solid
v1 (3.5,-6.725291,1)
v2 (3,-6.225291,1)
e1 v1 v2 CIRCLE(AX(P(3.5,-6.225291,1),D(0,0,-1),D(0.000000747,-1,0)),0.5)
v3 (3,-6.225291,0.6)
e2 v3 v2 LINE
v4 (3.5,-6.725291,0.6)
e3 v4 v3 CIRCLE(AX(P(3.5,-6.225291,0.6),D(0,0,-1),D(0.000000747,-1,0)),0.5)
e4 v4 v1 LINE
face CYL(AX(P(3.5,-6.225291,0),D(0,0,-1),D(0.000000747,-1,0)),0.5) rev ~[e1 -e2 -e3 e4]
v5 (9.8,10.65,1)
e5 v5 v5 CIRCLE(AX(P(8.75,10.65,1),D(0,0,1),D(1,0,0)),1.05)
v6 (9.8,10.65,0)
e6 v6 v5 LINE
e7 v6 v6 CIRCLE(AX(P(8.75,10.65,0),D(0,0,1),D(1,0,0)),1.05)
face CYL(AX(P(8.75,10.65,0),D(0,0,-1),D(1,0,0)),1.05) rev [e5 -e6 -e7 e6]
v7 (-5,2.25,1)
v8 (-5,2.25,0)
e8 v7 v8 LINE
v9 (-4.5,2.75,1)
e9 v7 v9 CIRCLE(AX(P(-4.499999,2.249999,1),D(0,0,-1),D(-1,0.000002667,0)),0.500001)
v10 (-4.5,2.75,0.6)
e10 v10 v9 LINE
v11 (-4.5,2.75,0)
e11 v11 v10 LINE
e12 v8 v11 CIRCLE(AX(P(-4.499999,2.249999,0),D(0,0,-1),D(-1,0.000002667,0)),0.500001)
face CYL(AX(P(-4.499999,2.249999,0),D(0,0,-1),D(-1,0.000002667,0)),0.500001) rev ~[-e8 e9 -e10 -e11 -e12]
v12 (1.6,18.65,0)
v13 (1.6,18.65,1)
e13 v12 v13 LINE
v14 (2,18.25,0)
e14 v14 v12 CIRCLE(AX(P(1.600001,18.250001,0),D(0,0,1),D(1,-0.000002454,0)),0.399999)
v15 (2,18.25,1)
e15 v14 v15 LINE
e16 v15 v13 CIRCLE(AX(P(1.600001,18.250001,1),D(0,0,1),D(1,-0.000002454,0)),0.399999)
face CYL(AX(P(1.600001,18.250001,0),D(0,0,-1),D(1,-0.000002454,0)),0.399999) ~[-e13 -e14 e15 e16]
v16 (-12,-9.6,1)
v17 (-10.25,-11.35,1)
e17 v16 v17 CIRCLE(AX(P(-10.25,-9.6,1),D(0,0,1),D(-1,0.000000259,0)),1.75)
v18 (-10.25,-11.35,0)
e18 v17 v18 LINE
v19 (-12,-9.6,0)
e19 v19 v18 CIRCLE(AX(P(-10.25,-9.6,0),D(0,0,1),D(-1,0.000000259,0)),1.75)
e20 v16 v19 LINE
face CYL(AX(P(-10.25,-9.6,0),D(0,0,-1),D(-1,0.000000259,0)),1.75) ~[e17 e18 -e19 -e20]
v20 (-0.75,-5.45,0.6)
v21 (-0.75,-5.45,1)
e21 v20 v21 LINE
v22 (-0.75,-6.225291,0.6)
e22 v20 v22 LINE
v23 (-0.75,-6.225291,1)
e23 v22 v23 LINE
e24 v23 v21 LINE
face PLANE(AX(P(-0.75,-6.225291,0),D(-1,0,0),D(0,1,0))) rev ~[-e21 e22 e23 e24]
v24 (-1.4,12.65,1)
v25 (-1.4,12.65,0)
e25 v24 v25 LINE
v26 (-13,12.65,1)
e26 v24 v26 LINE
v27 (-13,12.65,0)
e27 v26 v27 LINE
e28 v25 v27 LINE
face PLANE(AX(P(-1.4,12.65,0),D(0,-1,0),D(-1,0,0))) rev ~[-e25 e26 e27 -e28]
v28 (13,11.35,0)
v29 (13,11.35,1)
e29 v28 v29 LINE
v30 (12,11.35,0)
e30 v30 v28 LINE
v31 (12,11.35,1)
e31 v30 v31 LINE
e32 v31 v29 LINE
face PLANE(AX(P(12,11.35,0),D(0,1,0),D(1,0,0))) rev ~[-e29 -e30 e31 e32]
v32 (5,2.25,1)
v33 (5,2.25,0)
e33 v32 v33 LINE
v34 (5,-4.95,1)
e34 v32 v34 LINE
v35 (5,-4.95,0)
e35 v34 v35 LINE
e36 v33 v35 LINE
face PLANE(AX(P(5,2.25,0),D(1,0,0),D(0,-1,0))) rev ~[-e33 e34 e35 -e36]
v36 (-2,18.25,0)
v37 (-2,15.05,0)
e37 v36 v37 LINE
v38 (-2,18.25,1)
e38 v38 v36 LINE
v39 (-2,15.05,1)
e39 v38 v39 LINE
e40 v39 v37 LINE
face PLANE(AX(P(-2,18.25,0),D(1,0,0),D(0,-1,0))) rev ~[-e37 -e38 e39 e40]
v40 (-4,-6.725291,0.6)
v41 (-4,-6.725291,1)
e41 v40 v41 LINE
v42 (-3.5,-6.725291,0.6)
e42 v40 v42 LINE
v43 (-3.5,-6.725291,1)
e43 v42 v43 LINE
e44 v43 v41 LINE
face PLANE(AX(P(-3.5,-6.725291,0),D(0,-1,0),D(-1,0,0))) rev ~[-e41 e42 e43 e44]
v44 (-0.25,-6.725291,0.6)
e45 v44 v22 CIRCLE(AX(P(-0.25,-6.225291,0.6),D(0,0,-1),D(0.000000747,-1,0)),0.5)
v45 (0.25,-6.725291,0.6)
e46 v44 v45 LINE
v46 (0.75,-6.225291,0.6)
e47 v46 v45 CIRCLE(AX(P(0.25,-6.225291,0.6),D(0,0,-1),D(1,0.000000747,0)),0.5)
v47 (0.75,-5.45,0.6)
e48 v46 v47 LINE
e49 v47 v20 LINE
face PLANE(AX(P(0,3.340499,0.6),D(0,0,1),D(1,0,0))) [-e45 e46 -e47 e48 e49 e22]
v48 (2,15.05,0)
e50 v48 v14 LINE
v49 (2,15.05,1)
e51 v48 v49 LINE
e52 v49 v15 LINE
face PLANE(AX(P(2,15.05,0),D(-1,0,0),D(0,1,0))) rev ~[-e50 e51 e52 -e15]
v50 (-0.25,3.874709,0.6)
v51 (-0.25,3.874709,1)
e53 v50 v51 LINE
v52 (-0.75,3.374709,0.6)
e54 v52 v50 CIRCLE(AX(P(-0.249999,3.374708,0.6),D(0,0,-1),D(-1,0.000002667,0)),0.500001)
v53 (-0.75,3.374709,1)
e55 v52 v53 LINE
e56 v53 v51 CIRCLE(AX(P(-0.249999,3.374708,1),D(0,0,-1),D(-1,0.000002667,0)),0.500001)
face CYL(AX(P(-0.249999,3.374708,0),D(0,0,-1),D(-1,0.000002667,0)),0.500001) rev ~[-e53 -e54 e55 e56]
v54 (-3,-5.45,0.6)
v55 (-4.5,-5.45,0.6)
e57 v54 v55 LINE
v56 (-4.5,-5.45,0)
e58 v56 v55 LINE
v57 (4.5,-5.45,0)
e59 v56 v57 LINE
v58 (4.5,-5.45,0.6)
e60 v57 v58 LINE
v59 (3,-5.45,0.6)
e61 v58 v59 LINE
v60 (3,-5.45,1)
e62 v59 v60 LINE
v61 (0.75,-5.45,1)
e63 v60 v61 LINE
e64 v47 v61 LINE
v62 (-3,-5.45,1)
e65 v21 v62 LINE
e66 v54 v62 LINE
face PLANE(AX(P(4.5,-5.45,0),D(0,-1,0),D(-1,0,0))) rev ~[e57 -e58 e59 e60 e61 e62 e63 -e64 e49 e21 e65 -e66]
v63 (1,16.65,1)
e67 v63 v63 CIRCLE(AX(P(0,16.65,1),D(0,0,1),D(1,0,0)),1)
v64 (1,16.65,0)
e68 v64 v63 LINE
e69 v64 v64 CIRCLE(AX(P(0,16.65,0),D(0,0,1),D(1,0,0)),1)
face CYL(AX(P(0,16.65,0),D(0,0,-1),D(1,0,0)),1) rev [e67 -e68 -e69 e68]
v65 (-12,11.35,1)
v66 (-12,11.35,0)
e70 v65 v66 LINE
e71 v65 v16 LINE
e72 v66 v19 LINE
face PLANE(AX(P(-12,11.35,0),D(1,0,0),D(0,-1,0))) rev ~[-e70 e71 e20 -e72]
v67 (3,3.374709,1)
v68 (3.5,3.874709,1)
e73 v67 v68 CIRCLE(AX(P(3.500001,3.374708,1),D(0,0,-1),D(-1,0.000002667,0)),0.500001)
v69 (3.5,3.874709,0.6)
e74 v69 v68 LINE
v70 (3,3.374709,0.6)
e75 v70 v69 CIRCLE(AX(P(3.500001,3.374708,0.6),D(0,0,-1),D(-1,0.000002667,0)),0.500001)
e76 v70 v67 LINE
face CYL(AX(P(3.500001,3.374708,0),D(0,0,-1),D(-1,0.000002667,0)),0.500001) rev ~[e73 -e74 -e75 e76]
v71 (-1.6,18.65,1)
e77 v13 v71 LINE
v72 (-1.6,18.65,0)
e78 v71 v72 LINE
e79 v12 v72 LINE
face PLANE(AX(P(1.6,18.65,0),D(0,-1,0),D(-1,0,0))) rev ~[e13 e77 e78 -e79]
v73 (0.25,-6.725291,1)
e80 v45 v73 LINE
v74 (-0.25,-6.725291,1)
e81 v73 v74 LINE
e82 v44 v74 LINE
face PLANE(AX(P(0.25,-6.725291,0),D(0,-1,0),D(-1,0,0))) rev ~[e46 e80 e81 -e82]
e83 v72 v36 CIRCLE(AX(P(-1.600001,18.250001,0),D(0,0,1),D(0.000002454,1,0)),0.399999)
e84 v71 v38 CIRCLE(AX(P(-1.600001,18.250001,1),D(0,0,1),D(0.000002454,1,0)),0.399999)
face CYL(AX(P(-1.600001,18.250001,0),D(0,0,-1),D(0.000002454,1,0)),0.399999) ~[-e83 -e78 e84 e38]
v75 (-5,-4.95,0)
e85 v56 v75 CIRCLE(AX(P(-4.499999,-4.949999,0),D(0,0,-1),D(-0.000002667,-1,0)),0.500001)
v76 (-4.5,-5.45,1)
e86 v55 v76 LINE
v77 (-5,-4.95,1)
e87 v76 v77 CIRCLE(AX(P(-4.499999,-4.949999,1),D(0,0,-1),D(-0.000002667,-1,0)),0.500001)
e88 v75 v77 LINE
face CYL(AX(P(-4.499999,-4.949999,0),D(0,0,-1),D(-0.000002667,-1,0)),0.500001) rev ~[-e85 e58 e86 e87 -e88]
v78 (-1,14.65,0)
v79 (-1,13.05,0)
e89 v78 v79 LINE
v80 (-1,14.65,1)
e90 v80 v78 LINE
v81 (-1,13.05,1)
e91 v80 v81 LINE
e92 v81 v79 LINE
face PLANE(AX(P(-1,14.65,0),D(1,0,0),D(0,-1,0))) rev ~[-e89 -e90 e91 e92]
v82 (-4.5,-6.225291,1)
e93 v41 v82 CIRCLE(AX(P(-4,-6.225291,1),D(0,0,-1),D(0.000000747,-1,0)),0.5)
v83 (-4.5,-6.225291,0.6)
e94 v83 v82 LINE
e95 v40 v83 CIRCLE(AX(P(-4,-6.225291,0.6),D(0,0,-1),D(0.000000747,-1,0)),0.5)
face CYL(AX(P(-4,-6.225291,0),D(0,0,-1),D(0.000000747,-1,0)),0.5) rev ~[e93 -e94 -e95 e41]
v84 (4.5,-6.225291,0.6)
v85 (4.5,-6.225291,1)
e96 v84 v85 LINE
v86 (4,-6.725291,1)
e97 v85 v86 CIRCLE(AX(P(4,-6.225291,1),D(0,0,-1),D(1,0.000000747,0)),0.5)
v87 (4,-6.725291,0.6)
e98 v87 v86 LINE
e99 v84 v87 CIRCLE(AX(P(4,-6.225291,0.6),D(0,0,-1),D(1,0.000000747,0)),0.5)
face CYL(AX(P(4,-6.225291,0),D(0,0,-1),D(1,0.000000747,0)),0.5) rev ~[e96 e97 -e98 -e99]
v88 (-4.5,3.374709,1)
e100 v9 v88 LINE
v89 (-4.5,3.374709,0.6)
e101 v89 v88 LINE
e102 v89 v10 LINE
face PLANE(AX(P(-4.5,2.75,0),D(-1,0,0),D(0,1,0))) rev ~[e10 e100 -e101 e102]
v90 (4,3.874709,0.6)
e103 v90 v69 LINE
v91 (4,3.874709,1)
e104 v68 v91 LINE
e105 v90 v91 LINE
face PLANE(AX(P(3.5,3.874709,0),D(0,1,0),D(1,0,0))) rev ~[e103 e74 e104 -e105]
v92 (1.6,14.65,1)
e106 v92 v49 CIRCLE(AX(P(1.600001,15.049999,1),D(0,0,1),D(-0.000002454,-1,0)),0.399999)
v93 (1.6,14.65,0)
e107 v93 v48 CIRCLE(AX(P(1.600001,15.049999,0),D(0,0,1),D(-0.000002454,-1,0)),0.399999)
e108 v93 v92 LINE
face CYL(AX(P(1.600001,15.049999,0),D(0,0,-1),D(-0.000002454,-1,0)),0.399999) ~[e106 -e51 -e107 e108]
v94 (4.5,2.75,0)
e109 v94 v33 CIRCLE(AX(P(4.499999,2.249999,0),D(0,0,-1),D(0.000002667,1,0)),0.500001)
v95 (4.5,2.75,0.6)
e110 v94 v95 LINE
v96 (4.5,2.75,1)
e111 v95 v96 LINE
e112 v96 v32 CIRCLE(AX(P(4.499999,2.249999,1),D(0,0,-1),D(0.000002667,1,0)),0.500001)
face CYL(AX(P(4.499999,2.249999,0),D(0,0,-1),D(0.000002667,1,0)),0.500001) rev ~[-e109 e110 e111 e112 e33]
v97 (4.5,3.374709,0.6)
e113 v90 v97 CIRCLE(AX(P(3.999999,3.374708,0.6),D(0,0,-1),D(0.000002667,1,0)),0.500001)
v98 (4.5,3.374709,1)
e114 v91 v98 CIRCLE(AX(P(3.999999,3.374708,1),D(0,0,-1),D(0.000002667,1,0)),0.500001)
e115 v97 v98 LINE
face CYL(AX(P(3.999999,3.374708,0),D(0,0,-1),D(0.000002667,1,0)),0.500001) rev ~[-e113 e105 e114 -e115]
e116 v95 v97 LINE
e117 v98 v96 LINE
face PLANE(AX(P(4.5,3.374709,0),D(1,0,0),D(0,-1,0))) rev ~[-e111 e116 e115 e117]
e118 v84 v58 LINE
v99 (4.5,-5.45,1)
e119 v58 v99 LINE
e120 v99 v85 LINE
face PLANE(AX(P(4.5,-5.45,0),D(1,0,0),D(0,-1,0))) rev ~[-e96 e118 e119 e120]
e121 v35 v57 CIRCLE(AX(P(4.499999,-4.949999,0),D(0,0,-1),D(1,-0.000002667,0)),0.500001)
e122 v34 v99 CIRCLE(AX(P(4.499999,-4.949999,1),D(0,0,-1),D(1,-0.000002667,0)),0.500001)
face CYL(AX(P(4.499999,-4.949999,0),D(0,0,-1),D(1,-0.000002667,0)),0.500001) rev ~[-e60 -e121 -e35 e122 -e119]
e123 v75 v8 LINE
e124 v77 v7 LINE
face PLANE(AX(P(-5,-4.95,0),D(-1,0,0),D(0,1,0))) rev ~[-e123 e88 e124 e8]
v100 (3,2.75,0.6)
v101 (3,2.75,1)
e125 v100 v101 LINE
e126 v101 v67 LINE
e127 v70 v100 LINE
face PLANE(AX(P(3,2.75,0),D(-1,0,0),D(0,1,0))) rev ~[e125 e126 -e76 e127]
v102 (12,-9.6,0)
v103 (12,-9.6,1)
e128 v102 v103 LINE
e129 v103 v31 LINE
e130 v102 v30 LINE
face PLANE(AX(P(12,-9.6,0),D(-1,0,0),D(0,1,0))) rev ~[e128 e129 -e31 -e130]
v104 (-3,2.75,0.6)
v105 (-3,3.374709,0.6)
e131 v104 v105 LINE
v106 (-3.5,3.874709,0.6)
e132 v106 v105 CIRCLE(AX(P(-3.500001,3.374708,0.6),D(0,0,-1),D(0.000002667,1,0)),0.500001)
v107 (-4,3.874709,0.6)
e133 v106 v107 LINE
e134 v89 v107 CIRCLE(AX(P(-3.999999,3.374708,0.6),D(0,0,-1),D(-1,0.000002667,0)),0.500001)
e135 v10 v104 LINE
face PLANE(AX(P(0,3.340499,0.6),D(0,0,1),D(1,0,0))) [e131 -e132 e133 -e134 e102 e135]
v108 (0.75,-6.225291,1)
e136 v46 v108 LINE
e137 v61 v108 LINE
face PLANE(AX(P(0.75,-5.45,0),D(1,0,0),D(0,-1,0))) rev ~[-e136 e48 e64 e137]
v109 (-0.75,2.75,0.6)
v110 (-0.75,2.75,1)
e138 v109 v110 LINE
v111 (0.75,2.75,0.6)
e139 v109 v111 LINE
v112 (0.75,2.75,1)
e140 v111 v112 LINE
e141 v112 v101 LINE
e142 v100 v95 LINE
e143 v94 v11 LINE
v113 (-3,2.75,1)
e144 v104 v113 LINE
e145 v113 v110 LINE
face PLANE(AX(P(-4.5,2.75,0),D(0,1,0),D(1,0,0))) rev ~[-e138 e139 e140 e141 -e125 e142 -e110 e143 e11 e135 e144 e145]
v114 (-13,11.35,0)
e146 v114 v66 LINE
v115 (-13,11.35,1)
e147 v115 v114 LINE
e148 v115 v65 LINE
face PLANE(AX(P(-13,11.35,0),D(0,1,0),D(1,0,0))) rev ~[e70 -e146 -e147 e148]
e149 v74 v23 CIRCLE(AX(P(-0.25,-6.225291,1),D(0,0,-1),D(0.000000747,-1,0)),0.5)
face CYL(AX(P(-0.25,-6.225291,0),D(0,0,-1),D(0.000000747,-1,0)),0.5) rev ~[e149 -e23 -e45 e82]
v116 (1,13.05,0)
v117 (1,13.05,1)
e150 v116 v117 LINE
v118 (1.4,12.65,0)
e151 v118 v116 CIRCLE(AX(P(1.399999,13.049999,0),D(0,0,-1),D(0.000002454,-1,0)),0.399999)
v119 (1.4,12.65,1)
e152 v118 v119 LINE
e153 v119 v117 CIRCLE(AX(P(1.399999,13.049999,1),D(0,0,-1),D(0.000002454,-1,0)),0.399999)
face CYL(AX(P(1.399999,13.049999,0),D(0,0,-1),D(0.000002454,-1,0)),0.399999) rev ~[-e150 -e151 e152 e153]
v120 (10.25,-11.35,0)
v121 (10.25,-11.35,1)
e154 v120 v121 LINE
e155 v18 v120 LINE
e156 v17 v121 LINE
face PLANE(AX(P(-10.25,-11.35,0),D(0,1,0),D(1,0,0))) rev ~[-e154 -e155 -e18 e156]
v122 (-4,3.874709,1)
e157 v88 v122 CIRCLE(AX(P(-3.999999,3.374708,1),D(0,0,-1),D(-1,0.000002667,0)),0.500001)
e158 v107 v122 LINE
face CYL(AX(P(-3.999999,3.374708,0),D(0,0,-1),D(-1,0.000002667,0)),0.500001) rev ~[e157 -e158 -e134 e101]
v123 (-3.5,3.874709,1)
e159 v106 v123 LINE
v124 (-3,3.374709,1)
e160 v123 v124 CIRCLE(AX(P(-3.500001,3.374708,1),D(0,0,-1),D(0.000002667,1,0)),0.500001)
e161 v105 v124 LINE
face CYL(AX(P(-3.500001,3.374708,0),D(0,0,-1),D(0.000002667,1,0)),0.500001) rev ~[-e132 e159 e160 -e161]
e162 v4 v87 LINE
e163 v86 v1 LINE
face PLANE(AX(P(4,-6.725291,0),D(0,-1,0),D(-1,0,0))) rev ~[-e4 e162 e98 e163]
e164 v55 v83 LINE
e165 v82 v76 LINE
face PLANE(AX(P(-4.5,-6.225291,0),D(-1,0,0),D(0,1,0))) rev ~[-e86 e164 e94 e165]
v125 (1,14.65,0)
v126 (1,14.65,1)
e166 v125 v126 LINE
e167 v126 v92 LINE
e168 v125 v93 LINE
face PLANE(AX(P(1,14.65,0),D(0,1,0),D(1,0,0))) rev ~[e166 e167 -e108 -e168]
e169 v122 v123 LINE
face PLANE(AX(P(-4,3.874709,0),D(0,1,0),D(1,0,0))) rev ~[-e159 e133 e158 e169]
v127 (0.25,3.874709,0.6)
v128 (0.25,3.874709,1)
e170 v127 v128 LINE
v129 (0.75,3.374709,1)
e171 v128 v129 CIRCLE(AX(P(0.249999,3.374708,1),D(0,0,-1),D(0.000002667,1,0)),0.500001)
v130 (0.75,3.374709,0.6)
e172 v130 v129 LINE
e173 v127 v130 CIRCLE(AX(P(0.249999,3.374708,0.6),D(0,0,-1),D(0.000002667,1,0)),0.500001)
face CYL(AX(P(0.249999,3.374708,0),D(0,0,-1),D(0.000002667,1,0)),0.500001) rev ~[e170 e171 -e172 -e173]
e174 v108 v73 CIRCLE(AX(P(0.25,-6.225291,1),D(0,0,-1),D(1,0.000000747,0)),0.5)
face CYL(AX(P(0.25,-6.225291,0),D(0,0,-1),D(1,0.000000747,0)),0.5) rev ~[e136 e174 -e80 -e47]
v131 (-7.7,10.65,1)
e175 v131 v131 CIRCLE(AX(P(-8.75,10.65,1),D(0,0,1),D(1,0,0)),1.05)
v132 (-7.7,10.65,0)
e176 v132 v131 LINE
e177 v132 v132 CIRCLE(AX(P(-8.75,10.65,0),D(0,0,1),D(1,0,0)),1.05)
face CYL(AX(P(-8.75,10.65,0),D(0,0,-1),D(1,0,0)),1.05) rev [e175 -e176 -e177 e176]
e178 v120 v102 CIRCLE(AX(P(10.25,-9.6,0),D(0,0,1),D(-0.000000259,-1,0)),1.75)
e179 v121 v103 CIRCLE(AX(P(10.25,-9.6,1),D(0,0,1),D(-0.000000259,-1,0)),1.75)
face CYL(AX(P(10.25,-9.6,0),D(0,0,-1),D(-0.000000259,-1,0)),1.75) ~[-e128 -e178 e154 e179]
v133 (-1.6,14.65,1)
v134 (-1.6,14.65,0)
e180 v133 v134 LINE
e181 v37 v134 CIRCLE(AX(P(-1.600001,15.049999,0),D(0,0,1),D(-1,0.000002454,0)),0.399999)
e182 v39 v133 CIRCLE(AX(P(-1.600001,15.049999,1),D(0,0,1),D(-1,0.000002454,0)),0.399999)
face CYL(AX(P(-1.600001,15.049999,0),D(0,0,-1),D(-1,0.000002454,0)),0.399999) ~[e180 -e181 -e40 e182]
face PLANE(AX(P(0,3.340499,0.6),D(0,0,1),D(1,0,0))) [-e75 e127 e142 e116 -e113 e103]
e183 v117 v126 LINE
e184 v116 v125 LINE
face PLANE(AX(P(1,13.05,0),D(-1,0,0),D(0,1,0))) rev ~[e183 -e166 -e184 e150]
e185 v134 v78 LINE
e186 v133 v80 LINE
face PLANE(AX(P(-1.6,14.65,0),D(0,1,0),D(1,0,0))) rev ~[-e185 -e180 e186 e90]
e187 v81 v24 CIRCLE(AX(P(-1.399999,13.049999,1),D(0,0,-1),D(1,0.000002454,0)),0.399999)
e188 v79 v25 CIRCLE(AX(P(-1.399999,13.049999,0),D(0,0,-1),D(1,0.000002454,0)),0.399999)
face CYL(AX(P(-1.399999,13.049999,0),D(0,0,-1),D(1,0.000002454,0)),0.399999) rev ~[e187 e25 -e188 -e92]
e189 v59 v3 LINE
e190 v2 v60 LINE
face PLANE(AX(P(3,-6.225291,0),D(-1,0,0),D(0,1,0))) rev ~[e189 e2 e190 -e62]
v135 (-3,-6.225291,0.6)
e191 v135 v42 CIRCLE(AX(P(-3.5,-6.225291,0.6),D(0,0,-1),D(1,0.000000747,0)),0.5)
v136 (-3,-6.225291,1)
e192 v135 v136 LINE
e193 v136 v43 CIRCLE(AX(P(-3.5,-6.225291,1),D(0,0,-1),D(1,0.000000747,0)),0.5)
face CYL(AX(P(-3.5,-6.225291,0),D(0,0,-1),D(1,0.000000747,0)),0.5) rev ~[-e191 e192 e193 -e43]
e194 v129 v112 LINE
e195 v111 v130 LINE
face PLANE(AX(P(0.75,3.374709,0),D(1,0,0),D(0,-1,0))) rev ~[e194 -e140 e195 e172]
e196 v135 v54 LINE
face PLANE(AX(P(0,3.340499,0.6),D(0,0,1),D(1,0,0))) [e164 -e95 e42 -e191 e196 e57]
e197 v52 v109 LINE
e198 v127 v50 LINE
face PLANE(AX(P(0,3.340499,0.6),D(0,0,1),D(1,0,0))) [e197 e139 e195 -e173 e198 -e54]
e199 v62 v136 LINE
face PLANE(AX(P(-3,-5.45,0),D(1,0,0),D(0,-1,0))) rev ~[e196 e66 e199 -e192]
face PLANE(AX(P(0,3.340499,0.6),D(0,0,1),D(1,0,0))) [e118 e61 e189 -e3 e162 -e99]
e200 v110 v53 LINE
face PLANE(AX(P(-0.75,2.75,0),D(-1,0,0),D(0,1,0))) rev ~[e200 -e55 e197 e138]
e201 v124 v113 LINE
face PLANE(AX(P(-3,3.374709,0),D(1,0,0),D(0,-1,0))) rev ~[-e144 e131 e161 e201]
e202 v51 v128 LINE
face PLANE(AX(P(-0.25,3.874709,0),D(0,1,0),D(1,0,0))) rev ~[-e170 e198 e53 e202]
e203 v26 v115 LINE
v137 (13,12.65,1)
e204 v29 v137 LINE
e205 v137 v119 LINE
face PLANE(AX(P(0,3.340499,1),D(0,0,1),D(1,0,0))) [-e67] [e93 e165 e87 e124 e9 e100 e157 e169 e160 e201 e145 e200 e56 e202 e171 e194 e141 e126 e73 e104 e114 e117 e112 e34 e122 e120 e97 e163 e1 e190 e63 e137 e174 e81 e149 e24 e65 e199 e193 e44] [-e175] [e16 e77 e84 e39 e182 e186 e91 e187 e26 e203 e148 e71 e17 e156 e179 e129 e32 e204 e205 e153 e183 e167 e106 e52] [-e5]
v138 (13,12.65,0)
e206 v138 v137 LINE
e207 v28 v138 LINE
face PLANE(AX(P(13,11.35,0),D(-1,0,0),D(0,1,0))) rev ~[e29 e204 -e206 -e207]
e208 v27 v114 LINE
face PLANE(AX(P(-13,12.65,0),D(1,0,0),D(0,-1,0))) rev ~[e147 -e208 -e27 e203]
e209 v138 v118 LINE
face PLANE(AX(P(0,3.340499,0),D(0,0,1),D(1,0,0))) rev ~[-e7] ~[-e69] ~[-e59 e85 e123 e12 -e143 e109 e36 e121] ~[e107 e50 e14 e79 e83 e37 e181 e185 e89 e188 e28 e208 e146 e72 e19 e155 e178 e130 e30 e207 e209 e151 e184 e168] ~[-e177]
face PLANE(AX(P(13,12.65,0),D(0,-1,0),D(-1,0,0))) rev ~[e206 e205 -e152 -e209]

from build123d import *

# Parameters (mm, degrees)
F0_R     = 1.05
F0_R_2   = 1
F1_DEPTH = 0.6
F2_DEPTH = 1


with BuildPart() as f1:
    # F0 (on Top) → F1 (new body)
    with BuildSketch(Plane.XY):
        with BuildLine():
            Line((-10.25, -11.35), (10.25, -11.35))
            ThreePointArc((10.25, -11.35), (11.487437, -10.837437), (12, -9.6))
            Line((12, -9.6), (12, 11.35))
            Line((12, 11.35), (13, 11.35))
            Line((13, 11.35), (13, 12.65))
            Line((13, 12.65), (1.4, 12.65))
            ThreePointArc((1.4, 12.65), (1.117157, 12.767157), (1, 13.05))
            Line((1, 13.05), (1, 14.65))
            Line((1, 14.65), (1.6, 14.65))
            ThreePointArc((1.6, 14.65), (1.882843, 14.767157), (2, 15.05))
            Line((2, 15.05), (2, 18.25))
            ThreePointArc((2, 18.25), (1.882843, 18.532843), (1.6, 18.65))
            Line((1.6, 18.65), (-1.6, 18.65))
            ThreePointArc((-1.6, 18.65), (-1.882843, 18.532843), (-2, 18.25))
            Line((-2, 18.25), (-2, 15.05))
            ThreePointArc((-2, 15.05), (-1.882843, 14.767157), (-1.6, 14.65))
            Line((-1.6, 14.65), (-1, 14.65))
            Line((-1, 14.65), (-1, 13.05))
            ThreePointArc((-1, 13.05), (-1.117157, 12.767157), (-1.4, 12.65))
            Line((-1.4, 12.65), (-13, 12.65))
            Line((-13, 12.65), (-13, 11.35))
            Line((-13, 11.35), (-12, 11.35))
            Line((-12, 11.35), (-12, -9.6))
            ThreePointArc((-12, -9.6), (-11.487437, -10.837437), (-10.25, -11.35))
        make_face()
        with BuildLine():
            ThreePointArc((-5, 2.25), (-4.853553, 2.603553), (-4.5, 2.75))
            Line((-4.5, 2.75), (-4.5, 3.374709))
            ThreePointArc((-4.5, 3.374709), (-4.353553, 3.728262), (-4, 3.874709))
            Line((-4, 3.874709), (-3.5, 3.874709))
            ThreePointArc((-3.5, 3.874709), (-3.146447, 3.728262), (-3, 3.374709))
            Line((-3, 3.374709), (-3, 2.75))
            Line((-3, 2.75), (-0.75, 2.75))
            Line((-0.75, 2.75), (-0.75, 3.374709))
            ThreePointArc((-0.75, 3.374709), (-0.603553, 3.728262), (-0.25, 3.874709))
            Line((-0.25, 3.874709), (0.25, 3.874709))
            ThreePointArc((0.25, 3.874709), (0.603553, 3.728262), (0.75, 3.374709))
            Line((0.75, 3.374709), (0.75, 2.75))
            Line((0.75, 2.75), (3, 2.75))
            Line((3, 2.75), (3, 3.374709))
            ThreePointArc((3, 3.374709), (3.146447, 3.728262), (3.5, 3.874709))
            Line((3.5, 3.874709), (4, 3.874709))
            ThreePointArc((4, 3.874709), (4.353553, 3.728262), (4.5, 3.374709))
            Line((4.5, 3.374709), (4.5, 2.75))
            ThreePointArc((4.5, 2.75), (4.853553, 2.603553), (5, 2.25))
            Line((5, 2.25), (5, -4.95))
            ThreePointArc((5, -4.95), (4.853553, -5.303553), (4.5, -5.45))
            Line((4.5, -5.45), (4.5, -6.225291))
            ThreePointArc((4.5, -6.225291), (4.353553, -6.578845), (4, -6.725291))
            Line((4, -6.725291), (3.5, -6.725291))
            ThreePointArc((3.5, -6.725291), (3.146447, -6.578845), (3, -6.225291))
            Line((3, -6.225291), (3, -5.45))
            Line((3, -5.45), (0.75, -5.45))
            Line((0.75, -5.45), (0.75, -6.225291))
            ThreePointArc((0.75, -6.225291), (0.603553, -6.578845), (0.25, -6.725291))
            Line((0.25, -6.725291), (-0.25, -6.725291))
            ThreePointArc((-0.25, -6.725291), (-0.603553, -6.578845), (-0.75, -6.225291))
            Line((-0.75, -6.225291), (-0.75, -5.45))
            Line((-0.75, -5.45), (-3, -5.45))
            Line((-3, -5.45), (-3, -6.225291))
            ThreePointArc((-3, -6.225291), (-3.146447, -6.578845), (-3.5, -6.725291))
            Line((-3.5, -6.725291), (-4, -6.725291))
            ThreePointArc((-4, -6.725291), (-4.353553, -6.578845), (-4.5, -6.225291))
            Line((-4.5, -6.225291), (-4.5, -5.45))
            ThreePointArc((-4.5, -5.45), (-4.853553, -5.303553), (-5, -4.95))
            Line((-5, -4.95), (-5, 2.25))
        make_face(mode=Mode.SUBTRACT)
        with Locations((-8.75, 10.65)):
            Circle(F0_R, mode=Mode.SUBTRACT)
        with Locations((8.75, 10.65)):
            Circle(F0_R, mode=Mode.SUBTRACT)
        with Locations((0, 16.65)):
            Circle(F0_R_2, mode=Mode.SUBTRACT)
        with BuildLine():
            Line((-4.5, 3.374709), (-4.5, 2.75))
            Line((-4.5, 2.75), (-3, 2.75))
            Line((-3, 2.75), (-3, 3.374709))
            ThreePointArc((-3, 3.374709), (-3.146447, 3.728262), (-3.5, 3.874709))
            Line((-3.5, 3.874709), (-4, 3.874709))
            ThreePointArc((-4, 3.874709), (-4.353553, 3.728262), (-4.5, 3.374709))
        make_face()
        with BuildLine():
            Line((-0.75, 3.374709), (-0.75, 2.75))
            Line((-0.75, 2.75), (0.75, 2.75))
            Line((0.75, 2.75), (0.75, 3.374709))
            ThreePointArc((0.75, 3.374709), (0.603553, 3.728262), (0.25, 3.874709))
            Line((0.25, 3.874709), (-0.25, 3.874709))
            ThreePointArc((-0.25, 3.874709), (-0.603553, 3.728262), (-0.75, 3.374709))
        make_face()
        with BuildLine():
            Line((3, 3.374709), (3, 2.75))
            Line((3, 2.75), (4.5, 2.75))
            Line((4.5, 2.75), (4.5, 3.374709))
            ThreePointArc((4.5, 3.374709), (4.353553, 3.728262), (4, 3.874709))
            Line((4, 3.874709), (3.5, 3.874709))
            ThreePointArc((3.5, 3.874709), (3.146447, 3.728262), (3, 3.374709))
        make_face()
        with BuildLine():
            Line((4.5, -5.45), (3, -5.45))
            Line((3, -5.45), (3, -6.225291))
            ThreePointArc((3, -6.225291), (3.146447, -6.578845), (3.5, -6.725291))
            Line((3.5, -6.725291), (4, -6.725291))
            ThreePointArc((4, -6.725291), (4.353553, -6.578845), (4.5, -6.225291))
            Line((4.5, -6.225291), (4.5, -5.45))
        make_face()
        with BuildLine():
            Line((0.75, -5.45), (-0.75, -5.45))
            Line((-0.75, -5.45), (-0.75, -6.225291))
            ThreePointArc((-0.75, -6.225291), (-0.603553, -6.578845), (-0.25, -6.725291))
            Line((-0.25, -6.725291), (0.25, -6.725291))
            ThreePointArc((0.25, -6.725291), (0.603553, -6.578845), (0.75, -6.225291))
            Line((0.75, -6.225291), (0.75, -5.45))
        make_face()
        with BuildLine():
            Line((-3, -5.45), (-4.5, -5.45))
            Line((-4.5, -5.45), (-4.5, -6.225291))
            ThreePointArc((-4.5, -6.225291), (-4.353553, -6.578845), (-4, -6.725291))
            Line((-4, -6.725291), (-3.5, -6.725291))
            ThreePointArc((-3.5, -6.725291), (-3.146447, -6.578845), (-3, -6.225291))
            Line((-3, -6.225291), (-3, -5.45))
        make_face()
    extrude(amount=F1_DEPTH)

    # F0 (on Top) → F2 (join)
    with BuildSketch(Plane.XY):
        with BuildLine():
            Line((-10.25, -11.35), (10.25, -11.35))
            ThreePointArc((10.25, -11.35), (11.487437, -10.837437), (12, -9.6))
            Line((12, -9.6), (12, 11.35))
            Line((12, 11.35), (13, 11.35))
            Line((13, 11.35), (13, 12.65))
            Line((13, 12.65), (1.4, 12.65))
            ThreePointArc((1.4, 12.65), (1.117157, 12.767157), (1, 13.05))
            Line((1, 13.05), (1, 14.65))
            Line((1, 14.65), (1.6, 14.65))
            ThreePointArc((1.6, 14.65), (1.882843, 14.767157), (2, 15.05))
            Line((2, 15.05), (2, 18.25))
            ThreePointArc((2, 18.25), (1.882843, 18.532843), (1.6, 18.65))
            Line((1.6, 18.65), (-1.6, 18.65))
            ThreePointArc((-1.6, 18.65), (-1.882843, 18.532843), (-2, 18.25))
            Line((-2, 18.25), (-2, 15.05))
            ThreePointArc((-2, 15.05), (-1.882843, 14.767157), (-1.6, 14.65))
            Line((-1.6, 14.65), (-1, 14.65))
            Line((-1, 14.65), (-1, 13.05))
            ThreePointArc((-1, 13.05), (-1.117157, 12.767157), (-1.4, 12.65))
            Line((-1.4, 12.65), (-13, 12.65))
            Line((-13, 12.65), (-13, 11.35))
            Line((-13, 11.35), (-12, 11.35))
            Line((-12, 11.35), (-12, -9.6))
            ThreePointArc((-12, -9.6), (-11.487437, -10.837437), (-10.25, -11.35))
        make_face()
        with BuildLine():
            ThreePointArc((-5, 2.25), (-4.853553, 2.603553), (-4.5, 2.75))
            Line((-4.5, 2.75), (-4.5, 3.374709))
            ThreePointArc((-4.5, 3.374709), (-4.353553, 3.728262), (-4, 3.874709))
            Line((-4, 3.874709), (-3.5, 3.874709))
            ThreePointArc((-3.5, 3.874709), (-3.146447, 3.728262), (-3, 3.374709))
            Line((-3, 3.374709), (-3, 2.75))
            Line((-3, 2.75), (-0.75, 2.75))
            Line((-0.75, 2.75), (-0.75, 3.374709))
            ThreePointArc((-0.75, 3.374709), (-0.603553, 3.728262), (-0.25, 3.874709))
            Line((-0.25, 3.874709), (0.25, 3.874709))
            ThreePointArc((0.25, 3.874709), (0.603553, 3.728262), (0.75, 3.374709))
            Line((0.75, 3.374709), (0.75, 2.75))
            Line((0.75, 2.75), (3, 2.75))
            Line((3, 2.75), (3, 3.374709))
            ThreePointArc((3, 3.374709), (3.146447, 3.728262), (3.5, 3.874709))
            Line((3.5, 3.874709), (4, 3.874709))
            ThreePointArc((4, 3.874709), (4.353553, 3.728262), (4.5, 3.374709))
            Line((4.5, 3.374709), (4.5, 2.75))
            ThreePointArc((4.5, 2.75), (4.853553, 2.603553), (5, 2.25))
            Line((5, 2.25), (5, -4.95))
            ThreePointArc((5, -4.95), (4.853553, -5.303553), (4.5, -5.45))
            Line((4.5, -5.45), (4.5, -6.225291))
            ThreePointArc((4.5, -6.225291), (4.353553, -6.578845), (4, -6.725291))
            Line((4, -6.725291), (3.5, -6.725291))
            ThreePointArc((3.5, -6.725291), (3.146447, -6.578845), (3, -6.225291))
            Line((3, -6.225291), (3, -5.45))
            Line((3, -5.45), (0.75, -5.45))
            Line((0.75, -5.45), (0.75, -6.225291))
            ThreePointArc((0.75, -6.225291), (0.603553, -6.578845), (0.25, -6.725291))
            Line((0.25, -6.725291), (-0.25, -6.725291))
            ThreePointArc((-0.25, -6.725291), (-0.603553, -6.578845), (-0.75, -6.225291))
            Line((-0.75, -6.225291), (-0.75, -5.45))
            Line((-0.75, -5.45), (-3, -5.45))
            Line((-3, -5.45), (-3, -6.225291))
            ThreePointArc((-3, -6.225291), (-3.146447, -6.578845), (-3.5, -6.725291))
            Line((-3.5, -6.725291), (-4, -6.725291))
            ThreePointArc((-4, -6.725291), (-4.353553, -6.578845), (-4.5, -6.225291))
            Line((-4.5, -6.225291), (-4.5, -5.45))
            ThreePointArc((-4.5, -5.45), (-4.853553, -5.303553), (-5, -4.95))
            Line((-5, -4.95), (-5, 2.25))
        make_face(mode=Mode.SUBTRACT)
        with Locations((-8.75, 10.65)):
            Circle(F0_R, mode=Mode.SUBTRACT)
        with Locations((8.75, 10.65)):
            Circle(F0_R, mode=Mode.SUBTRACT)
        with Locations((0, 16.65)):
            Circle(F0_R_2, mode=Mode.SUBTRACT)
    extrude(amount=F2_DEPTH)


solid = f1.part
